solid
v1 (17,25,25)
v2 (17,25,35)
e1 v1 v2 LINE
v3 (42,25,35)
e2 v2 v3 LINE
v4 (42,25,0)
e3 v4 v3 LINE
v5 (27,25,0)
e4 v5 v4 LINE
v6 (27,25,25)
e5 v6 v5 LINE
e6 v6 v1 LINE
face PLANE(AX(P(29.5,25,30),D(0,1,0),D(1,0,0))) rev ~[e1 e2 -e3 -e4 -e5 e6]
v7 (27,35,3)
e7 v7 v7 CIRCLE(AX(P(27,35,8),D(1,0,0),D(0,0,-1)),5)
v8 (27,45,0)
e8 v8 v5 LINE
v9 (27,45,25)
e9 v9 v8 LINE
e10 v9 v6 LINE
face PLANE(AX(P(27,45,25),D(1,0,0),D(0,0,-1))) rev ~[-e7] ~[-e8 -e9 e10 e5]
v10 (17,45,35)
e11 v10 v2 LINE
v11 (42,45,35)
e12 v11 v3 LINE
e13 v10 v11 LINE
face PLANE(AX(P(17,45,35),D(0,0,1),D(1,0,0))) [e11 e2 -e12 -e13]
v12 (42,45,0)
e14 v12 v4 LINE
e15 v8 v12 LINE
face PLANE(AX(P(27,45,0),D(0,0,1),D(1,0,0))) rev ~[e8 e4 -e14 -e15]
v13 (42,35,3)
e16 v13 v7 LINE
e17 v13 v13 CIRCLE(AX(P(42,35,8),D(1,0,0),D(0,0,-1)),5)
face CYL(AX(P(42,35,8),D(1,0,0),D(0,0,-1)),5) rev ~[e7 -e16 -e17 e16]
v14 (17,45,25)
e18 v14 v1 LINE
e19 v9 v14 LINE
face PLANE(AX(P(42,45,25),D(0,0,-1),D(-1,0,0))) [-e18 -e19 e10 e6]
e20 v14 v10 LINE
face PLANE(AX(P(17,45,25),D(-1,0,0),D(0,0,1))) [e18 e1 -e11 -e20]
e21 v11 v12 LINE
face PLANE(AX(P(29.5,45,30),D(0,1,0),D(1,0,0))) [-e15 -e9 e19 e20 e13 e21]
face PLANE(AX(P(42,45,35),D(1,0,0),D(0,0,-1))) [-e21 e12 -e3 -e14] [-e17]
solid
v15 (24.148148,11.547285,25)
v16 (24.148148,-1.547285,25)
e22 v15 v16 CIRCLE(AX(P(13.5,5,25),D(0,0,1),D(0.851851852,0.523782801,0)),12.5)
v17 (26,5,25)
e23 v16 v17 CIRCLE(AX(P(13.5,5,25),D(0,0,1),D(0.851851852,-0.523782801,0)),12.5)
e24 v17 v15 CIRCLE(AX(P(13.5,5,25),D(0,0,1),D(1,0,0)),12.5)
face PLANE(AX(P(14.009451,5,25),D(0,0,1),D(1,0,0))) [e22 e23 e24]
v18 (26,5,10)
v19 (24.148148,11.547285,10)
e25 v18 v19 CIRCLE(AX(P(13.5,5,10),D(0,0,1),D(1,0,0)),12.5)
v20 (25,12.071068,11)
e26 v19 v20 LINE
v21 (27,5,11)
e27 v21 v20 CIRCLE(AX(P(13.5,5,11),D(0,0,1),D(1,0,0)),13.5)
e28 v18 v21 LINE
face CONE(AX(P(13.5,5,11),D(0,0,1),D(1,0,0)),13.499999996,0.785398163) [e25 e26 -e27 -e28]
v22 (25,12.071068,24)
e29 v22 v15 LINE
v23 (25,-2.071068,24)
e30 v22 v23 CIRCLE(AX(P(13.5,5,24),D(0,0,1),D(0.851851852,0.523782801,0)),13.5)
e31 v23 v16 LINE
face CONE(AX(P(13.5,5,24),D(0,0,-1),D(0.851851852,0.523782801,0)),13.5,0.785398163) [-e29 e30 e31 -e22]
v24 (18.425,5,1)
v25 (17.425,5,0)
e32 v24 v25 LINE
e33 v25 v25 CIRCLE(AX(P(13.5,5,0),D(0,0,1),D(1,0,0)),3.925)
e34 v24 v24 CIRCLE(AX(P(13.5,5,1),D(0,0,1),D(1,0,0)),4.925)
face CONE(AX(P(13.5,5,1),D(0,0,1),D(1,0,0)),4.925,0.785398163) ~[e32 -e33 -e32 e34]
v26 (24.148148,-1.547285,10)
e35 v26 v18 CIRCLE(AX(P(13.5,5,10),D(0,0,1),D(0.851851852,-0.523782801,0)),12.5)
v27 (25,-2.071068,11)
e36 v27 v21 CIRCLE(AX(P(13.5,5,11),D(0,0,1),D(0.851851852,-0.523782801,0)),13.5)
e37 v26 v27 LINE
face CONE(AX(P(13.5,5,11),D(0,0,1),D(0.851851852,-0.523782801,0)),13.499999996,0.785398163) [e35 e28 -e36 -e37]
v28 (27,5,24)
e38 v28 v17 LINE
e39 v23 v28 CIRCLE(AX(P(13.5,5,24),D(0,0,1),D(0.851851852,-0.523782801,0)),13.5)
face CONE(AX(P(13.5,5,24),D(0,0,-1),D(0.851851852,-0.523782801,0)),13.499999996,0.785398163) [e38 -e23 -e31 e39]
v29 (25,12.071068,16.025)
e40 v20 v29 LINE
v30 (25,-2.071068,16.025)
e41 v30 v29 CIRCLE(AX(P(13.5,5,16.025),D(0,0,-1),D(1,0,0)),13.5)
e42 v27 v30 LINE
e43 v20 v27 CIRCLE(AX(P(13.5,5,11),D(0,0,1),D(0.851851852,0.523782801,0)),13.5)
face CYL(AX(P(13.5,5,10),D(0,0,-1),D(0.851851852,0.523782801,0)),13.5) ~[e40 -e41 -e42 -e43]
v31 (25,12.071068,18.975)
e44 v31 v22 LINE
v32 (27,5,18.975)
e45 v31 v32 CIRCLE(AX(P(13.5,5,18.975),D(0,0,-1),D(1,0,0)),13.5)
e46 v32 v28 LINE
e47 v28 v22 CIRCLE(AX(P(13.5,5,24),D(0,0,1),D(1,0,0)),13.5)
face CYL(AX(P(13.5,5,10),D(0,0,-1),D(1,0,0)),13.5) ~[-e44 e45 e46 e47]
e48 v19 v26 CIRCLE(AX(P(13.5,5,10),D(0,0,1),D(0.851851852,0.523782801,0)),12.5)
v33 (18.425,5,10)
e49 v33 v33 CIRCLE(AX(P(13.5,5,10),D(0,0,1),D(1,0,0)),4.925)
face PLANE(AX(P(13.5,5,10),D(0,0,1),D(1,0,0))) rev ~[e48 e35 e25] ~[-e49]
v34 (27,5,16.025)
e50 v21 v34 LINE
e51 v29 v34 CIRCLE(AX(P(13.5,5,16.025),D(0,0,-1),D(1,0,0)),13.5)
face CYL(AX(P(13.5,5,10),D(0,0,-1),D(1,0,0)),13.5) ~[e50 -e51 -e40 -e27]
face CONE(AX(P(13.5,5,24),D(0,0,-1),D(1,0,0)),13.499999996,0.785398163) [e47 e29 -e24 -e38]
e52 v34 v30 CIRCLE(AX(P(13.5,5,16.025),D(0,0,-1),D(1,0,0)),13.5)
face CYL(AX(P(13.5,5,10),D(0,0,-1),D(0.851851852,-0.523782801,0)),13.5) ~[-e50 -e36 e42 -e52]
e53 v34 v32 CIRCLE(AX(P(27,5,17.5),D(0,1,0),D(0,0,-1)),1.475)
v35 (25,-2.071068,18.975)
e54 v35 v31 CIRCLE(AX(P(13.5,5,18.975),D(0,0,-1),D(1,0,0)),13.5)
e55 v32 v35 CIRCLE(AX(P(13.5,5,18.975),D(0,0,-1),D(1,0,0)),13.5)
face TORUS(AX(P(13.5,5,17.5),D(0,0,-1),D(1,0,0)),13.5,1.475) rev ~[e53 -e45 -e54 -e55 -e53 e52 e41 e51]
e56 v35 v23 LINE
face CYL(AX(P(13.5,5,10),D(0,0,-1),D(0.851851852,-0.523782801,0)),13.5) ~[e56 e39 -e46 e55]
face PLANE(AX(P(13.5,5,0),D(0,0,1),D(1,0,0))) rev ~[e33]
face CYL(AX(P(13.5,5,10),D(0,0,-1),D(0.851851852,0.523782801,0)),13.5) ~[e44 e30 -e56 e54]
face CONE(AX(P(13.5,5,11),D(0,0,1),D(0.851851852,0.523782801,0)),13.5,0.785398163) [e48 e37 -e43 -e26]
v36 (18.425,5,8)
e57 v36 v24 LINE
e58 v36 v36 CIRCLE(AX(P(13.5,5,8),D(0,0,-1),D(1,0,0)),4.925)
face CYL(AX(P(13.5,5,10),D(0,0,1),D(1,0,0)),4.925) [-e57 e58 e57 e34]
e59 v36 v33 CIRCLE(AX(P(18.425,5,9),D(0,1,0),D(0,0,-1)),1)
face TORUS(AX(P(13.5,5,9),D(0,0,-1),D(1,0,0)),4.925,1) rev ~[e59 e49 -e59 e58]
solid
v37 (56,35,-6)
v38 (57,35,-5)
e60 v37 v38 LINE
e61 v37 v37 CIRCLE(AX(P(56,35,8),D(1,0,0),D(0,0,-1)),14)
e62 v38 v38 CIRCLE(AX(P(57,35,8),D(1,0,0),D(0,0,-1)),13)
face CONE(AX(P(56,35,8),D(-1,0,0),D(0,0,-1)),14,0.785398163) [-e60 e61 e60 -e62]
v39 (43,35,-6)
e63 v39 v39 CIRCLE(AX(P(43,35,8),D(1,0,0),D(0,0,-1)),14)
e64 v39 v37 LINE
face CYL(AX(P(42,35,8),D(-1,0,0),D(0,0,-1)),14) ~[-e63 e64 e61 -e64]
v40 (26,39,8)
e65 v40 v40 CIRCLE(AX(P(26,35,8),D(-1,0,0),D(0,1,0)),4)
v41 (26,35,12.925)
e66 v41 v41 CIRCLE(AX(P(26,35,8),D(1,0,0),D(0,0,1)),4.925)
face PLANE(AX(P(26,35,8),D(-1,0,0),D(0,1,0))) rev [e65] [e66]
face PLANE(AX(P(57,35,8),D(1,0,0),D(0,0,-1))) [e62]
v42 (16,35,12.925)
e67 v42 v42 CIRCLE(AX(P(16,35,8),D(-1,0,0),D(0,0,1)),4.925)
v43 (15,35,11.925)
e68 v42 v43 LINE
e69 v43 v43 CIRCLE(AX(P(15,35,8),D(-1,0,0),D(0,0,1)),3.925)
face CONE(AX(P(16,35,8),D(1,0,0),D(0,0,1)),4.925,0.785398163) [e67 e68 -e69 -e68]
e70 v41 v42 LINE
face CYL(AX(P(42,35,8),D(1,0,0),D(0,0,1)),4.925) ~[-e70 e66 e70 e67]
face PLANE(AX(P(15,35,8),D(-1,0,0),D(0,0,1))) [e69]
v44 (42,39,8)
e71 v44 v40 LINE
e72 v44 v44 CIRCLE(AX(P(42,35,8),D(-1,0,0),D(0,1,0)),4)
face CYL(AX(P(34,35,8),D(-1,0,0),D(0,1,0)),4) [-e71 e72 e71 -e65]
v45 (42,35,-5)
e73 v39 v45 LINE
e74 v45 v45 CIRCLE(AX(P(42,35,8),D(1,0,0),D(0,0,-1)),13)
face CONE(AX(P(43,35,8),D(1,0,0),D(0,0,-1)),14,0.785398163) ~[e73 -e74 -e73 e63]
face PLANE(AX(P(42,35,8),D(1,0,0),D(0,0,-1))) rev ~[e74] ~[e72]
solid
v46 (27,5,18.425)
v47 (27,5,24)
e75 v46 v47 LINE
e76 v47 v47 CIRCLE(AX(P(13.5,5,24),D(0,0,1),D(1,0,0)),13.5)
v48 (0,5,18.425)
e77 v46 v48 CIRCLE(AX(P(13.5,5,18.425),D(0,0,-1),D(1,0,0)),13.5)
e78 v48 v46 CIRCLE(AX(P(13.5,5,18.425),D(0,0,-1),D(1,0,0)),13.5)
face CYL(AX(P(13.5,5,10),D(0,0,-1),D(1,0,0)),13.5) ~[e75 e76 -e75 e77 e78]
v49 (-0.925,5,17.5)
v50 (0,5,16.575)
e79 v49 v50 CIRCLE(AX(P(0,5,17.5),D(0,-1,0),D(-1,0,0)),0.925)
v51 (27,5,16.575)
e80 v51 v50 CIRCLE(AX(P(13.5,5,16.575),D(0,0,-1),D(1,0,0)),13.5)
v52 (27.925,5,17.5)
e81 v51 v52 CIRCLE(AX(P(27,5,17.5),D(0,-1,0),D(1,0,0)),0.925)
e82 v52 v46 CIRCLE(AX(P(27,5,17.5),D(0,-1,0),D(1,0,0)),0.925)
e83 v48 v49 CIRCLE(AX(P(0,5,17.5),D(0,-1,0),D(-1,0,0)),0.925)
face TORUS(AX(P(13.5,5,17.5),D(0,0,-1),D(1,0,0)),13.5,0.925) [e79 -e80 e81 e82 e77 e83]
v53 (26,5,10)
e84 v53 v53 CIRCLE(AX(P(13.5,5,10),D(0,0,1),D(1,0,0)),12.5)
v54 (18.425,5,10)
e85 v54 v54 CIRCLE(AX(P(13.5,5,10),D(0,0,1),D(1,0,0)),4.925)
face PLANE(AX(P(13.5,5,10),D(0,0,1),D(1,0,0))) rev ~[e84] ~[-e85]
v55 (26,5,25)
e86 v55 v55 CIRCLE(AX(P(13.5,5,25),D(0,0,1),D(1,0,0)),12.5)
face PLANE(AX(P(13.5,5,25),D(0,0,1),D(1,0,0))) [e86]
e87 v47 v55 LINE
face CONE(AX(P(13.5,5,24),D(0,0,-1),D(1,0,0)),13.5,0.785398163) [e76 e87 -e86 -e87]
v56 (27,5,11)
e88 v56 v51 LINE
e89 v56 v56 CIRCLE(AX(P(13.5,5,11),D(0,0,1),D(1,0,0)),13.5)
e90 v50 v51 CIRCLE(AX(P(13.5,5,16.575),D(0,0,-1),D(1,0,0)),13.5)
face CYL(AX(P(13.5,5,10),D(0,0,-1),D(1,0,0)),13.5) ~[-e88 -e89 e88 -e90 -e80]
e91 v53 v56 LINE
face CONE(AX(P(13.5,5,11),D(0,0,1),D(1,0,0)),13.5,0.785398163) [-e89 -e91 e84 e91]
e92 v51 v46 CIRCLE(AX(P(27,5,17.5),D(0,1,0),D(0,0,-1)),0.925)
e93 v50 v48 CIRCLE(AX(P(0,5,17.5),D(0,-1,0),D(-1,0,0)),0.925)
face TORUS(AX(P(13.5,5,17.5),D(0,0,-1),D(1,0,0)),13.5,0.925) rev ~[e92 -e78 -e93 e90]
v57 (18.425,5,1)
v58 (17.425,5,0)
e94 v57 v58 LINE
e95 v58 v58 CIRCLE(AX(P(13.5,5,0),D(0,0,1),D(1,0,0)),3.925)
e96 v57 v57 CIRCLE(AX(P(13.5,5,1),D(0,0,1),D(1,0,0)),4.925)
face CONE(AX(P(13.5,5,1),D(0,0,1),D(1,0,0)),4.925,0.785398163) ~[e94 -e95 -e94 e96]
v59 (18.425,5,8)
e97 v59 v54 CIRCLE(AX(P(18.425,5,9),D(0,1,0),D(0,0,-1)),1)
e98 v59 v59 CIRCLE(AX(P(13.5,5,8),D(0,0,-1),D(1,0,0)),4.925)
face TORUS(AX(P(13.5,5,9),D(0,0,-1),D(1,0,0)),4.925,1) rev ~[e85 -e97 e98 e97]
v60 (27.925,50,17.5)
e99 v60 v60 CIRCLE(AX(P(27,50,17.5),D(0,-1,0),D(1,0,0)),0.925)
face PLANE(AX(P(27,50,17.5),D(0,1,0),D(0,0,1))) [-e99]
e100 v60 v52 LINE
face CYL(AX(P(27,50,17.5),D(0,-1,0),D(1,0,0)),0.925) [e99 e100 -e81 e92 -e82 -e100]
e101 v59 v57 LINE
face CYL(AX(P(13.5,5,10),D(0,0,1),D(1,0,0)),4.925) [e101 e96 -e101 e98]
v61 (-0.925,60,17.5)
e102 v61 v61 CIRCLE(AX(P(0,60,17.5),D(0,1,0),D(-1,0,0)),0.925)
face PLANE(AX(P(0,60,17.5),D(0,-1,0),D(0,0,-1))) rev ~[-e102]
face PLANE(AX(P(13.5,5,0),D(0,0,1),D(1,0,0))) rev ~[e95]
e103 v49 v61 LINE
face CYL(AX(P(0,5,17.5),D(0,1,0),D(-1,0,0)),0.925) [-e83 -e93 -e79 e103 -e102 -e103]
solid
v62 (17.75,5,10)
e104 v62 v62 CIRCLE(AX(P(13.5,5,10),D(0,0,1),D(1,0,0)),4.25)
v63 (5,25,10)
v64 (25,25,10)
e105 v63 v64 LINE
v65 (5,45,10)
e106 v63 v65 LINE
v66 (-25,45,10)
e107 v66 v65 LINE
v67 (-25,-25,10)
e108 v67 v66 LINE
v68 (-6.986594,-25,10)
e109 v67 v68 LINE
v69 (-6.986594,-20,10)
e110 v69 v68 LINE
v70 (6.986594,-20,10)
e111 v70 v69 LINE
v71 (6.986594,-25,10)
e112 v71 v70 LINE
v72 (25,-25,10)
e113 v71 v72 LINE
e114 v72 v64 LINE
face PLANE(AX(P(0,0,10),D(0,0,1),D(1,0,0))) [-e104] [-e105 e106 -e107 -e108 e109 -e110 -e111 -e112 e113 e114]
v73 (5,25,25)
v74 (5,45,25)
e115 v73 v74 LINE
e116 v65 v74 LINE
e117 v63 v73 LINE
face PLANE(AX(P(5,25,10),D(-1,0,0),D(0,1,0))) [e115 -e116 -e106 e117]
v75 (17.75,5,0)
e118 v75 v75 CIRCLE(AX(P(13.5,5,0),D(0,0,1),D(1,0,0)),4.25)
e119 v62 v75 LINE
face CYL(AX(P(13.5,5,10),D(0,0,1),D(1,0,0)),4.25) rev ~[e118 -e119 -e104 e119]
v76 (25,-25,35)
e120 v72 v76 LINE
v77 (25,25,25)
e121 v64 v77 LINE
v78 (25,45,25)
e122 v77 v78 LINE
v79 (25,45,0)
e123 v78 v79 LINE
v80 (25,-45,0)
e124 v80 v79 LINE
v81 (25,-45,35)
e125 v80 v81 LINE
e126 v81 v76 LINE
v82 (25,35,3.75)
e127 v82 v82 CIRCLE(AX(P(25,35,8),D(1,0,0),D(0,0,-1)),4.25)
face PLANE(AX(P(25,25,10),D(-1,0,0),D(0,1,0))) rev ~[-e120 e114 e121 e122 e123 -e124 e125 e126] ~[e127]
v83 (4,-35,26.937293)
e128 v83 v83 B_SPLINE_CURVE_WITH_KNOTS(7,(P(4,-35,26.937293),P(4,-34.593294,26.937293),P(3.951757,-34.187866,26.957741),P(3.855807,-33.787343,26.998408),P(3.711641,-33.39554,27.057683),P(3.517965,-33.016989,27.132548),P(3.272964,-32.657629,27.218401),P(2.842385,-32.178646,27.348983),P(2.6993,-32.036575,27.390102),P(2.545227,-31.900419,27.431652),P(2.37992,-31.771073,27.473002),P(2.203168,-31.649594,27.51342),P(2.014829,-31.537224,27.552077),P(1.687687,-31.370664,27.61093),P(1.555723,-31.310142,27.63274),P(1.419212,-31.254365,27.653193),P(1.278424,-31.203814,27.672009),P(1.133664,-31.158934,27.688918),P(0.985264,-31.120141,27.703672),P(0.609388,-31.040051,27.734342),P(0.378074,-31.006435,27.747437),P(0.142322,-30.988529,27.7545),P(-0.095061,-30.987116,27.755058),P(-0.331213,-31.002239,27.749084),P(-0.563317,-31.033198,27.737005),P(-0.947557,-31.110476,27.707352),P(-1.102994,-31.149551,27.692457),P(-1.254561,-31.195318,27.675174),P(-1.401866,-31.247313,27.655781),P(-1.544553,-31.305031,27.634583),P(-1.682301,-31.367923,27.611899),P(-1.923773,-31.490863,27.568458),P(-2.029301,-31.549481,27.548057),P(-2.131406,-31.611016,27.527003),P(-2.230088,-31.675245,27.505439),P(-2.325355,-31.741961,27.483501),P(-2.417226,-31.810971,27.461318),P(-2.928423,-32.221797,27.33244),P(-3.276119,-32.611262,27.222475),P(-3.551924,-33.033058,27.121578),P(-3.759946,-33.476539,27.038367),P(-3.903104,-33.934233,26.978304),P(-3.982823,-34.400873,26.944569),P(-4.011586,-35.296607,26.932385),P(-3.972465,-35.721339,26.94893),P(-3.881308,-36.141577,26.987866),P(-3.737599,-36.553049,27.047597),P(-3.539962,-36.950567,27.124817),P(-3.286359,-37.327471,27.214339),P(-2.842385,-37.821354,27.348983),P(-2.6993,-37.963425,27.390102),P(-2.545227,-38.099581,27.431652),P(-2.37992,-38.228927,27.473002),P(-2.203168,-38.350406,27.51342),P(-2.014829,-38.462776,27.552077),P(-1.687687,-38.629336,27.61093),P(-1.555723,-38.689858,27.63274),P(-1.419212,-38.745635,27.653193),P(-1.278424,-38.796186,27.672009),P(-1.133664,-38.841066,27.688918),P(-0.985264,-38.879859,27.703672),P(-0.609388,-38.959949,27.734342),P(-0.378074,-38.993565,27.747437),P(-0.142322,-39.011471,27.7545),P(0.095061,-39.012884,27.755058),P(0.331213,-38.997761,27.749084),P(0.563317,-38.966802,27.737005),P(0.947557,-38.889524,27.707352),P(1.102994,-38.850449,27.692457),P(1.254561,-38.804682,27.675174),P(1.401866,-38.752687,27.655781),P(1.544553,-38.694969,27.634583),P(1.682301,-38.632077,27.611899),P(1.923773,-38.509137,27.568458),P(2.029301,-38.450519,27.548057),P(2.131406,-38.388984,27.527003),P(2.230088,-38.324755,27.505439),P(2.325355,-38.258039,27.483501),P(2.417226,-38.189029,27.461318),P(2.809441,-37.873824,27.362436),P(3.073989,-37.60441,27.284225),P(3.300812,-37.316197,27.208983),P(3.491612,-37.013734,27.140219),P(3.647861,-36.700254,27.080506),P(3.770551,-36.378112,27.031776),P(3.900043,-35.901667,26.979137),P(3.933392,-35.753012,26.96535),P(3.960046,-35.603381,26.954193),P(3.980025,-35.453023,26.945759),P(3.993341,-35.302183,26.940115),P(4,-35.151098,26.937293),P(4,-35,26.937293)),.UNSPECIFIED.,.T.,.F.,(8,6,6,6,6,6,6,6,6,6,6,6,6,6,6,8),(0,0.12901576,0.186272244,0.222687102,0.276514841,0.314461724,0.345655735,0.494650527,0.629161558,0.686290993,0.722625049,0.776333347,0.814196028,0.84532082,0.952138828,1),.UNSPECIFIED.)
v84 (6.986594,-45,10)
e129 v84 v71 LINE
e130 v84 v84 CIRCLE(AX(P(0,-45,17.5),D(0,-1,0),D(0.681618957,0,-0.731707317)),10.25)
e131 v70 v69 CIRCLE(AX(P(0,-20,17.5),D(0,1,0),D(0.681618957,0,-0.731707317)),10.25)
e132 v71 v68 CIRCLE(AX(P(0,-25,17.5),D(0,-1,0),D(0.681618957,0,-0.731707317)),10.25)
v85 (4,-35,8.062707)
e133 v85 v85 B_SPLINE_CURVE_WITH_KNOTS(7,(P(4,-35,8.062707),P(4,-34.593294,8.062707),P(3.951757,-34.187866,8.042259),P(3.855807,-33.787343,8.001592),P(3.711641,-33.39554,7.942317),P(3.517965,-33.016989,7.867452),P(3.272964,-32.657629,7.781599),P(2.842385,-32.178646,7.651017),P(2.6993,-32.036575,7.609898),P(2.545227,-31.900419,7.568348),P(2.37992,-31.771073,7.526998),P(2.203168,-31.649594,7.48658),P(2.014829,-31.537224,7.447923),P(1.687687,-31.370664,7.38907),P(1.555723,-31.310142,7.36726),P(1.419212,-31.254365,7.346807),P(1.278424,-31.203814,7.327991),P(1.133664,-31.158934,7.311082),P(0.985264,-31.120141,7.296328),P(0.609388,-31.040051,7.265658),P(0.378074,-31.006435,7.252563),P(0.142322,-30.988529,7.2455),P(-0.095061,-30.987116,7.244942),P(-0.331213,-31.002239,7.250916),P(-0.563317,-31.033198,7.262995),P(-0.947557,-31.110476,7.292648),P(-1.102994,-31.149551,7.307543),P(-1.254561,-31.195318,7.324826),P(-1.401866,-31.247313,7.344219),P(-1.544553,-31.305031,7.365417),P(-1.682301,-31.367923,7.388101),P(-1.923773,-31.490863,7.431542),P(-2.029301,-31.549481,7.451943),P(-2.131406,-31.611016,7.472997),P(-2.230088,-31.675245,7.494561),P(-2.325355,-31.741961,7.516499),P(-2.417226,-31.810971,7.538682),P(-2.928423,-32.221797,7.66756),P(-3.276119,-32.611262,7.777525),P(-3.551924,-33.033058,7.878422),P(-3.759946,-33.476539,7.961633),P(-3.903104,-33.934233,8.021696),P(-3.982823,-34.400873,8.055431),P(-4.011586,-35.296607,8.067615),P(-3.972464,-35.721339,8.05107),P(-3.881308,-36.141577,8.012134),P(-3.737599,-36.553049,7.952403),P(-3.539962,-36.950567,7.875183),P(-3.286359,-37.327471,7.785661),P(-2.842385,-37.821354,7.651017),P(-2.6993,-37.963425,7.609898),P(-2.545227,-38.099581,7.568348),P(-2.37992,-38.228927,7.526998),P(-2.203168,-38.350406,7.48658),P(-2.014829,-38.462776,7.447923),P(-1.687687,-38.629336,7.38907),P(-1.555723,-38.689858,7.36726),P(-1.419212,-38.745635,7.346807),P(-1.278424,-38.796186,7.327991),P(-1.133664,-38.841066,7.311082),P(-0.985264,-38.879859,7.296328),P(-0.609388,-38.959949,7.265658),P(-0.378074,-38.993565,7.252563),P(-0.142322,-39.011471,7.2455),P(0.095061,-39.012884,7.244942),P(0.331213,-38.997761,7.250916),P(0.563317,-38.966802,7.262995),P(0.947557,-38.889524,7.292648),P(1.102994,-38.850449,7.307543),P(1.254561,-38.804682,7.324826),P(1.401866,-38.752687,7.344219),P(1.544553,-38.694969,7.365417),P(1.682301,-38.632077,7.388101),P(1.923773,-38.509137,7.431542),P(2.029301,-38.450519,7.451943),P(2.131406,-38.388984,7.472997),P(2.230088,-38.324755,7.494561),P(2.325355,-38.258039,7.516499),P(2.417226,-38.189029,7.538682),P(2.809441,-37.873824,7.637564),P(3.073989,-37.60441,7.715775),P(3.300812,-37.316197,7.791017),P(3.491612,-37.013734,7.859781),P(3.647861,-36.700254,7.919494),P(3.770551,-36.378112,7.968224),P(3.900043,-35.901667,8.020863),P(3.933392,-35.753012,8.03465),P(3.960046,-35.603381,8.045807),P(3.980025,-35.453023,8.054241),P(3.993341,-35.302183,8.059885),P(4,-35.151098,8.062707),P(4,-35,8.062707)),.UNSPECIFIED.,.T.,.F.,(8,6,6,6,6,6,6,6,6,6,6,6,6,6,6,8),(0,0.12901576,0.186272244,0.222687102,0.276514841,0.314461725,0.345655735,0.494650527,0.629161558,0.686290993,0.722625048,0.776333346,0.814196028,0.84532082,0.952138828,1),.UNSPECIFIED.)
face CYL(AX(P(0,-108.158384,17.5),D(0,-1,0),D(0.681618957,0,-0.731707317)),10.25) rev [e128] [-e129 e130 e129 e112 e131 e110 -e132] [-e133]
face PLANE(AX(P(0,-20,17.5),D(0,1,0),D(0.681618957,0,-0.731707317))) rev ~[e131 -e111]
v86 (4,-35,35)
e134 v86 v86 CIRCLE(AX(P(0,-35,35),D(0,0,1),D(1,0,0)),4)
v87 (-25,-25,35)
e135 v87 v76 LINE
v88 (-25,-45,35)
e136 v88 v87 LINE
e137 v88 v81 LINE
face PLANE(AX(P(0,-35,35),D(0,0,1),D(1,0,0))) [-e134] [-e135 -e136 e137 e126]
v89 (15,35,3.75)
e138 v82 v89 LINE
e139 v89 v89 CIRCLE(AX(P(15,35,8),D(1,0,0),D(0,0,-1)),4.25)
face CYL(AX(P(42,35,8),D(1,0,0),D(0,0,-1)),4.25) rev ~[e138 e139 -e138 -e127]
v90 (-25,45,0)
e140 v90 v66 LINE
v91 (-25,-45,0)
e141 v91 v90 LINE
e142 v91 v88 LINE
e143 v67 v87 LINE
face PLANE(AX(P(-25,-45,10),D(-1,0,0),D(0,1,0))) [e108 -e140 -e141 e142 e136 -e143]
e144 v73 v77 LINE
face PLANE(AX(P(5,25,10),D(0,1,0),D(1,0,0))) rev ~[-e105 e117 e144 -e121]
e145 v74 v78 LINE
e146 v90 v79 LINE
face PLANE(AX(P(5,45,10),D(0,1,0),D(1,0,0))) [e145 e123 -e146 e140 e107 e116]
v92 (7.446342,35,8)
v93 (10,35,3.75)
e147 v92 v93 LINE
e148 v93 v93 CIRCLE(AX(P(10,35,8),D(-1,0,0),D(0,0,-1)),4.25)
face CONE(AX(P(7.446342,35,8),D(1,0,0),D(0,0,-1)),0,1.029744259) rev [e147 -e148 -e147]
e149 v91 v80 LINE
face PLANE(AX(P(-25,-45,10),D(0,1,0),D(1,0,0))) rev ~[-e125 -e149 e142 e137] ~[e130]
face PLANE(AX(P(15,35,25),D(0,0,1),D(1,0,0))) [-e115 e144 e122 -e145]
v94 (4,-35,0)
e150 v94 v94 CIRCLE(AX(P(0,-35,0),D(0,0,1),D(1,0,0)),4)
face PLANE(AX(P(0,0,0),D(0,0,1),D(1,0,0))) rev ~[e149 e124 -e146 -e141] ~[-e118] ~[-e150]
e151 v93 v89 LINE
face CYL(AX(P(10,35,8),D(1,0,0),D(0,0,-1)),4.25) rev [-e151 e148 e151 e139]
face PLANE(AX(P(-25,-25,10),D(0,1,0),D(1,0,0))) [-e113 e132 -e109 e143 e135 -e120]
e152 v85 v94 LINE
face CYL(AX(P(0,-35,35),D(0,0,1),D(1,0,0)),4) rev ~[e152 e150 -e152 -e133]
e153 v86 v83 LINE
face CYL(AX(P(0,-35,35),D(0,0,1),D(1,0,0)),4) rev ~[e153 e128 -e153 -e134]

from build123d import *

# Parameters (mm, degrees)
SKETCH1_W               = 50
SKETCH1_H               = 90
BOSS_EXTRUDE1_DEPTH     = 10
SKETCH2_W               = 50
SKETCH2_H               = 20
BOSS_EXTRUDE2_DEPTH     = 25
CUT_EXTRUDE1_DEPTH      = 5
CUT_EXTRUDE1_DEPTH_BACK = 83.158383626
SKETCH3_R               = 10.25
SKETCH4_R               = 4
CUT_EXTRUDE2_DEPTH      = 63.24949799
SKETCH5_R               = 4.25
CUT_EXTRUDE3_DEPTH      = 30
SKETCH5_3_W             = 20
SKETCH5_3_H             = 20
BOSS_EXTRUDE3_DEPTH     = 15
SKETCH9_W               = 15
SKETCH9_H               = 25
BOSS_EXTRUDE4_DEPTH     = 20
SKETCH10_R              = 4.25
CUT_EXTRUDE4_DEPTH      = 27
SKETCH10_3_R            = 5
SKETCH10_3_R_2          = 4.25
CUT_EXTRUDE5_DEPTH      = 15
SKETCH14_R              = 13.5
BOSS_EXTRUDE5_DEPTH     = 15
SKETCH14_5_R            = 4.925
SKETCH14_5_R_2          = 4.25
BOSS_EXTRUDE8_DEPTH     = 10
SKETCH19_R              = 4.925
SKETCH19_R_2            = 4.25
BOSS_EXTRUDE7_DEPTH     = 15
SKETCH19_3_R            = 4.925
SKETCH19_3_R_2          = 4.25
BOSS_EXTRUDE9_DEPTH     = 10
CHAMFER1_SIZE           = 1
CHAMFER2_SIZE           = 1
SKETCH26_R              = 14
BOSS_EXTRUDE10_DEPTH    = 15
SKETCH27_R              = 4.925
BOSS_EXTRUDE11_DEPTH    = 27
SKETCH29_W              = 16
SKETCH29_H              = 0.925
CHAMFER3_SIZE           = 1
BOSS_EXTRUDE12_DEPTH    = 20
SKETCH32_R              = 0.925


with BuildPart() as part:
    # Sketch1 → Boss-Extrude1 (new body)
    with BuildSketch(Plane.XY):
        Rectangle(SKETCH1_W, SKETCH1_H)
    extrude(amount=BOSS_EXTRUDE1_DEPTH)

    # Sketch2 → Boss-Extrude2 (add)
    with BuildSketch(Plane.XY.offset(10)):
        with Locations((0, -35)):
            Rectangle(SKETCH2_W, SKETCH2_H)
    extrude(amount=BOSS_EXTRUDE2_DEPTH)

    # Sketch3 → Cut-Extrude1 (cut, two sides: drawn at the far end of the back side and taken through both)
    with BuildSketch(Plane(origin=(0, -25, 0), x_dir=(1, 0, 0), z_dir=(0, 1, 0)).offset(-CUT_EXTRUDE1_DEPTH_BACK)):
        with Locations(Location((0, -17.5, 0), (0, 0, 47.029716068))):
            Circle(SKETCH3_R)
    extrude(amount=CUT_EXTRUDE1_DEPTH + CUT_EXTRUDE1_DEPTH_BACK, mode=Mode.SUBTRACT)

    # Sketch4 → Cut-Extrude2 (cut, through all)
    with BuildSketch(Plane.XY.offset(35)):
        with Locations((0, -35)):
            Circle(SKETCH4_R)
    extrude(amount=-CUT_EXTRUDE2_DEPTH, mode=Mode.SUBTRACT)

    # Sketch5 → Cut-Extrude3 (cut)
    with BuildSketch(Plane.XY.offset(10)):
        with Locations((13.5, 5)):
            Circle(SKETCH5_R)
    extrude(amount=-CUT_EXTRUDE3_DEPTH, mode=Mode.SUBTRACT)

    # Sketch5<3> → Boss-Extrude3 (add)
    with BuildSketch(Plane.XY.offset(10)):
        with Locations((15, 35)):
            Rectangle(SKETCH5_3_W, SKETCH5_3_H)
    extrude(amount=BOSS_EXTRUDE3_DEPTH)


with BuildPart() as body_2:
    # Sketch9 → Boss-Extrude4 (new body)
    with BuildSketch(Plane(origin=(0, 45, 0), x_dir=(1, 0, 0), z_dir=(0, 1, 0))):
        with Locations((34.5, -12.5)):
            Rectangle(SKETCH9_W, SKETCH9_H)
    extrude(amount=-BOSS_EXTRUDE4_DEPTH)


with BuildPart() as cut_extrude4_tool:
    # Sketch10 → Cut-Extrude4 (new body)
    with BuildSketch(Plane(origin=(42, 0, 0), x_dir=(0, 0, -1), z_dir=(1, 0, 0))):
        with Locations((-8, 35)):
            Circle(SKETCH10_R)
    extrude(amount=-CUT_EXTRUDE4_DEPTH)


with BuildPart() as part_1:
    add(part.part)

    # Cut-Extrude4: cut by cut_extrude4_tool
    add(cut_extrude4_tool.part, mode=Mode.SUBTRACT)

    # Sketch23 → Ø1.0mm Dowel Hole1 (revolve, cut)
    with BuildSketch(Plane(origin=(15, 35, 8), x_dir=(0, 0, -1), z_dir=(0, 1, 0))):
        Polygon((0, 0), (0, 7.553657631), (4.25, 5), (4.25, 0), align=None)
    revolve(axis=Axis((21.35, 35, 8), (-1, 0, 0)), mode=Mode.SUBTRACT)


with BuildPart() as body_2_1:
    add(body_2.part)

    # Cut-Extrude4: cut by cut_extrude4_tool
    add(cut_extrude4_tool.part, mode=Mode.SUBTRACT)

    # Sketch10<3> → Cut-Extrude5 (cut)
    with BuildSketch(Plane(origin=(42, 0, 0), x_dir=(0, 0, -1), z_dir=(1, 0, 0))):
        with Locations((-8, 35)):
            Circle(SKETCH10_3_R)
        with Locations((-8, 35)):
            Circle(SKETCH10_3_R_2, mode=Mode.SUBTRACT)
    extrude(amount=-CUT_EXTRUDE5_DEPTH, mode=Mode.SUBTRACT)

    # Sketch31 → Boss-Extrude12 (add)
    with BuildSketch(Plane(origin=(0, 45, 0), x_dir=(1, 0, 0), z_dir=(0, 1, 0))):
        Polygon((27, -25), (17, -25), (17, -35), (42, -35), (42, -25), align=None)
    extrude(amount=-BOSS_EXTRUDE12_DEPTH)


with BuildPart() as body_3:
    # Sketch14 → Boss-Extrude5 (new body)
    with BuildSketch(Plane.XY.offset(10)):
        with Locations((13.5, 5)):
            Circle(SKETCH14_R)
    extrude(amount=BOSS_EXTRUDE5_DEPTH)

    # Sketch14<5> → Boss-Extrude8 (add)
    # profile 1 of 2: a face of its own
    with BuildSketch(Plane.XY.offset(10)):
        with Locations((13.5, 5)):
            Circle(SKETCH14_5_R)
        with Locations((13.5, 5)):
            Circle(SKETCH14_5_R_2, mode=Mode.SUBTRACT)
    # profile 2 of 2: a face of its own
    with BuildSketch(Plane.XY.offset(10)):
        with Locations((13.5, 5)):
            Circle(SKETCH14_5_R_2)
    extrude(amount=-BOSS_EXTRUDE8_DEPTH)

    # Sketch17 → Cut-Revolve1 (revolve, cut)
    with BuildSketch(Plane(origin=(0, 5, 0), x_dir=(-1, 0, 0), z_dir=(0, 1, 0)), mode=Mode.PRIVATE) as cut_revolve1_sk:
        with BuildLine():
            Line((0, 18.425), (0, 16.575))
            ThreePointArc((0, 16.575), (-0.925, 17.5), (0, 18.425))
        make_face()
    revolve(cut_revolve1_sk.sketch.rotate(Axis((13.5, 5, 25), (0, 0, -1)), 180), axis=Axis((13.5, 5, 25), (0, 0, -1)), mode=Mode.SUBTRACT)

    # Sketch24 → Cut-Revolve3 (revolve, cut)
    with BuildSketch(Plane(origin=(0, 5, 0), x_dir=(-1, 0, 0), z_dir=(0, 1, 0)), mode=Mode.PRIVATE) as cut_revolve3_sk:
        with BuildLine():
            Line((-8.575, 10), (-8.575, 8))
            ThreePointArc((-8.575, 8), (-9.575, 9), (-8.575, 10))
        make_face()
    revolve(cut_revolve3_sk.sketch.rotate(Axis((13.5, 5, 9), (0, 0, -1)), 180), axis=Axis((13.5, 5, 9), (0, 0, -1)), mode=Mode.SUBTRACT)

    # Chamfer1
    chamfer1_edges = [body_3.edges().sort_by_distance(p)[0] for p in [
        (0, 5, 10),
        (8.575, 5, 0),
        (0, 5, 25),
    ]]
    chamfer(chamfer1_edges, length=CHAMFER1_SIZE)

    # Sweep1: sweep along a path in Sketch33
    with BuildLine(Plane.XY.offset(17.5)) as sweep1_path:
        Line((27, 50), (27, 5))
        ThreePointArc((27, 5), (13.5, -8.5), (0, 5))
        Line((0, 5), (0, 60))
    # Sketch32 → Sweep1 (sweep)
    with BuildSketch(Plane(origin=(0, 50, 0), x_dir=(1, 0, 0), z_dir=(0, 1, 0))):
        with Locations((27, -17.5)):
            Circle(SKETCH32_R)
    sweep(path=sweep1_path.line)


with BuildPart() as body_4:
    # Sketch19 → Boss-Extrude7 (new body)
    # profile 1 of 4: a face of its own
    with BuildSketch(Plane.XY.offset(10)):
        with BuildLine():
            ThreePointArc((25, -2.071067812), (26.490381057, 1.325765386), (27, 5))
            ThreePointArc((27, 5), (26.490381057, 8.674234614), (25, 12.071067812))
            Line((25, 12.071067812), (25, -2.071067812))
        make_face()
    # profile 2 of 4: a face of its own
    with BuildSketch(Plane.XY.offset(10)):
        with BuildLine():
            Line((25, -2.071067812), (25, 12.071067812))
            ThreePointArc((25, 12.071067812), (0, 5), (25, -2.071067812))
        make_face()
        with Locations((13.5, 5)):
            Circle(SKETCH19_R, mode=Mode.SUBTRACT)
    # profile 3 of 4: a face of its own
    with BuildSketch(Plane.XY.offset(10)):
        with Locations((13.5, 5)):
            Circle(SKETCH19_R)
        with Locations((13.5, 5)):
            Circle(SKETCH19_R_2, mode=Mode.SUBTRACT)
    # profile 4 of 4: a face of its own
    with BuildSketch(Plane.XY.offset(10)):
        with Locations((13.5, 5)):
            Circle(SKETCH19_R_2)
    extrude(amount=BOSS_EXTRUDE7_DEPTH)

    # Sketch19<3> → Boss-Extrude9 (add)
    # profile 1 of 2: a face of its own
    with BuildSketch(Plane.XY.offset(10)):
        with Locations((13.5, 5)):
            Circle(SKETCH19_3_R)
        with Locations((13.5, 5)):
            Circle(SKETCH19_3_R_2, mode=Mode.SUBTRACT)
    # profile 2 of 2: a face of its own
    with BuildSketch(Plane.XY.offset(10)):
        with Locations((13.5, 5)):
            Circle(SKETCH19_3_R_2)
    extrude(amount=-BOSS_EXTRUDE9_DEPTH)

    # Sketch20 → Cut-Revolve2 (revolve, cut)
    with BuildSketch(Plane(origin=(0, 5, 0), x_dir=(-1, 0, 0), z_dir=(0, 1, 0)), mode=Mode.PRIVATE) as cut_revolve2_sk:
        with BuildLine():
            Line((0, 18.975), (0, 16.025))
            ThreePointArc((0, 16.025), (-1.475, 17.5), (0, 18.975))
        make_face()
    revolve(cut_revolve2_sk.sketch.rotate(Axis((13.5, 5, 25), (0, 0, -1)), 180), axis=Axis((13.5, 5, 25), (0, 0, -1)), mode=Mode.SUBTRACT)

    # Chamfer2
    chamfer2_edges = [body_4.edges().sort_by_distance(p)[0] for p in [
        (2, 12.071067812, 25),
        (8.575, 5, 0),
        (2, 12.071067812, 10),
    ]]
    chamfer(chamfer2_edges, length=CHAMFER2_SIZE)

    # Sketch25 → Cut-Revolve4 (revolve, cut)
    with BuildSketch(Plane(origin=(0, 5, 0), x_dir=(-1, 0, 0), z_dir=(0, 1, 0)), mode=Mode.PRIVATE) as cut_revolve4_sk:
        with BuildLine():
            Line((-8.575, 10), (-8.575, 8))
            ThreePointArc((-8.575, 8), (-9.575, 9), (-8.575, 10))
        make_face()
    revolve(cut_revolve4_sk.sketch.rotate(Axis((13.5, 5, 9), (0, 0, -1)), 180), axis=Axis((13.5, 5, 9), (0, 0, -1)), mode=Mode.SUBTRACT)


with BuildPart() as body_5:
    # Sketch26 → Boss-Extrude10 (new body)
    with BuildSketch(Plane(origin=(42, 0, 0), x_dir=(0, 0, -1), z_dir=(1, 0, 0))):
        with Locations((-8, 35)):
            Circle(SKETCH26_R)
    extrude(amount=BOSS_EXTRUDE10_DEPTH)

    # Sketch27 → Boss-Extrude11 (add)
    with BuildSketch(Plane.ZY.offset(-42)):
        with Locations((8, 35)):
            Circle(SKETCH27_R)
    extrude(amount=BOSS_EXTRUDE11_DEPTH)

    # Sketch29 → Cut-Revolve5 (revolve, cut)
    with BuildSketch(Plane(origin=(0, 35, 0), x_dir=(-1, 0, 0), z_dir=(0, 1, 0)), mode=Mode.PRIVATE) as cut_revolve5_sk:
        with Locations((-34, 12.4625)):
            Rectangle(SKETCH29_W, SKETCH29_H)
    revolve(cut_revolve5_sk.sketch.rotate(Axis((57, 35, 8), (-1, 0, 0)), 90), axis=Axis((57, 35, 8), (-1, 0, 0)), mode=Mode.SUBTRACT)

    # Chamfer3
    chamfer3_edges = [body_5.edges().sort_by_distance(p)[0] for p in [
        (42, 35, 22),
        (57, 35, 22),
        (15, 35, 3.075),
    ]]
    chamfer(chamfer3_edges, length=CHAMFER3_SIZE)


solid = Compound([part_1.part, body_2_1.part, body_3.part, body_4.part, body_5.part])
